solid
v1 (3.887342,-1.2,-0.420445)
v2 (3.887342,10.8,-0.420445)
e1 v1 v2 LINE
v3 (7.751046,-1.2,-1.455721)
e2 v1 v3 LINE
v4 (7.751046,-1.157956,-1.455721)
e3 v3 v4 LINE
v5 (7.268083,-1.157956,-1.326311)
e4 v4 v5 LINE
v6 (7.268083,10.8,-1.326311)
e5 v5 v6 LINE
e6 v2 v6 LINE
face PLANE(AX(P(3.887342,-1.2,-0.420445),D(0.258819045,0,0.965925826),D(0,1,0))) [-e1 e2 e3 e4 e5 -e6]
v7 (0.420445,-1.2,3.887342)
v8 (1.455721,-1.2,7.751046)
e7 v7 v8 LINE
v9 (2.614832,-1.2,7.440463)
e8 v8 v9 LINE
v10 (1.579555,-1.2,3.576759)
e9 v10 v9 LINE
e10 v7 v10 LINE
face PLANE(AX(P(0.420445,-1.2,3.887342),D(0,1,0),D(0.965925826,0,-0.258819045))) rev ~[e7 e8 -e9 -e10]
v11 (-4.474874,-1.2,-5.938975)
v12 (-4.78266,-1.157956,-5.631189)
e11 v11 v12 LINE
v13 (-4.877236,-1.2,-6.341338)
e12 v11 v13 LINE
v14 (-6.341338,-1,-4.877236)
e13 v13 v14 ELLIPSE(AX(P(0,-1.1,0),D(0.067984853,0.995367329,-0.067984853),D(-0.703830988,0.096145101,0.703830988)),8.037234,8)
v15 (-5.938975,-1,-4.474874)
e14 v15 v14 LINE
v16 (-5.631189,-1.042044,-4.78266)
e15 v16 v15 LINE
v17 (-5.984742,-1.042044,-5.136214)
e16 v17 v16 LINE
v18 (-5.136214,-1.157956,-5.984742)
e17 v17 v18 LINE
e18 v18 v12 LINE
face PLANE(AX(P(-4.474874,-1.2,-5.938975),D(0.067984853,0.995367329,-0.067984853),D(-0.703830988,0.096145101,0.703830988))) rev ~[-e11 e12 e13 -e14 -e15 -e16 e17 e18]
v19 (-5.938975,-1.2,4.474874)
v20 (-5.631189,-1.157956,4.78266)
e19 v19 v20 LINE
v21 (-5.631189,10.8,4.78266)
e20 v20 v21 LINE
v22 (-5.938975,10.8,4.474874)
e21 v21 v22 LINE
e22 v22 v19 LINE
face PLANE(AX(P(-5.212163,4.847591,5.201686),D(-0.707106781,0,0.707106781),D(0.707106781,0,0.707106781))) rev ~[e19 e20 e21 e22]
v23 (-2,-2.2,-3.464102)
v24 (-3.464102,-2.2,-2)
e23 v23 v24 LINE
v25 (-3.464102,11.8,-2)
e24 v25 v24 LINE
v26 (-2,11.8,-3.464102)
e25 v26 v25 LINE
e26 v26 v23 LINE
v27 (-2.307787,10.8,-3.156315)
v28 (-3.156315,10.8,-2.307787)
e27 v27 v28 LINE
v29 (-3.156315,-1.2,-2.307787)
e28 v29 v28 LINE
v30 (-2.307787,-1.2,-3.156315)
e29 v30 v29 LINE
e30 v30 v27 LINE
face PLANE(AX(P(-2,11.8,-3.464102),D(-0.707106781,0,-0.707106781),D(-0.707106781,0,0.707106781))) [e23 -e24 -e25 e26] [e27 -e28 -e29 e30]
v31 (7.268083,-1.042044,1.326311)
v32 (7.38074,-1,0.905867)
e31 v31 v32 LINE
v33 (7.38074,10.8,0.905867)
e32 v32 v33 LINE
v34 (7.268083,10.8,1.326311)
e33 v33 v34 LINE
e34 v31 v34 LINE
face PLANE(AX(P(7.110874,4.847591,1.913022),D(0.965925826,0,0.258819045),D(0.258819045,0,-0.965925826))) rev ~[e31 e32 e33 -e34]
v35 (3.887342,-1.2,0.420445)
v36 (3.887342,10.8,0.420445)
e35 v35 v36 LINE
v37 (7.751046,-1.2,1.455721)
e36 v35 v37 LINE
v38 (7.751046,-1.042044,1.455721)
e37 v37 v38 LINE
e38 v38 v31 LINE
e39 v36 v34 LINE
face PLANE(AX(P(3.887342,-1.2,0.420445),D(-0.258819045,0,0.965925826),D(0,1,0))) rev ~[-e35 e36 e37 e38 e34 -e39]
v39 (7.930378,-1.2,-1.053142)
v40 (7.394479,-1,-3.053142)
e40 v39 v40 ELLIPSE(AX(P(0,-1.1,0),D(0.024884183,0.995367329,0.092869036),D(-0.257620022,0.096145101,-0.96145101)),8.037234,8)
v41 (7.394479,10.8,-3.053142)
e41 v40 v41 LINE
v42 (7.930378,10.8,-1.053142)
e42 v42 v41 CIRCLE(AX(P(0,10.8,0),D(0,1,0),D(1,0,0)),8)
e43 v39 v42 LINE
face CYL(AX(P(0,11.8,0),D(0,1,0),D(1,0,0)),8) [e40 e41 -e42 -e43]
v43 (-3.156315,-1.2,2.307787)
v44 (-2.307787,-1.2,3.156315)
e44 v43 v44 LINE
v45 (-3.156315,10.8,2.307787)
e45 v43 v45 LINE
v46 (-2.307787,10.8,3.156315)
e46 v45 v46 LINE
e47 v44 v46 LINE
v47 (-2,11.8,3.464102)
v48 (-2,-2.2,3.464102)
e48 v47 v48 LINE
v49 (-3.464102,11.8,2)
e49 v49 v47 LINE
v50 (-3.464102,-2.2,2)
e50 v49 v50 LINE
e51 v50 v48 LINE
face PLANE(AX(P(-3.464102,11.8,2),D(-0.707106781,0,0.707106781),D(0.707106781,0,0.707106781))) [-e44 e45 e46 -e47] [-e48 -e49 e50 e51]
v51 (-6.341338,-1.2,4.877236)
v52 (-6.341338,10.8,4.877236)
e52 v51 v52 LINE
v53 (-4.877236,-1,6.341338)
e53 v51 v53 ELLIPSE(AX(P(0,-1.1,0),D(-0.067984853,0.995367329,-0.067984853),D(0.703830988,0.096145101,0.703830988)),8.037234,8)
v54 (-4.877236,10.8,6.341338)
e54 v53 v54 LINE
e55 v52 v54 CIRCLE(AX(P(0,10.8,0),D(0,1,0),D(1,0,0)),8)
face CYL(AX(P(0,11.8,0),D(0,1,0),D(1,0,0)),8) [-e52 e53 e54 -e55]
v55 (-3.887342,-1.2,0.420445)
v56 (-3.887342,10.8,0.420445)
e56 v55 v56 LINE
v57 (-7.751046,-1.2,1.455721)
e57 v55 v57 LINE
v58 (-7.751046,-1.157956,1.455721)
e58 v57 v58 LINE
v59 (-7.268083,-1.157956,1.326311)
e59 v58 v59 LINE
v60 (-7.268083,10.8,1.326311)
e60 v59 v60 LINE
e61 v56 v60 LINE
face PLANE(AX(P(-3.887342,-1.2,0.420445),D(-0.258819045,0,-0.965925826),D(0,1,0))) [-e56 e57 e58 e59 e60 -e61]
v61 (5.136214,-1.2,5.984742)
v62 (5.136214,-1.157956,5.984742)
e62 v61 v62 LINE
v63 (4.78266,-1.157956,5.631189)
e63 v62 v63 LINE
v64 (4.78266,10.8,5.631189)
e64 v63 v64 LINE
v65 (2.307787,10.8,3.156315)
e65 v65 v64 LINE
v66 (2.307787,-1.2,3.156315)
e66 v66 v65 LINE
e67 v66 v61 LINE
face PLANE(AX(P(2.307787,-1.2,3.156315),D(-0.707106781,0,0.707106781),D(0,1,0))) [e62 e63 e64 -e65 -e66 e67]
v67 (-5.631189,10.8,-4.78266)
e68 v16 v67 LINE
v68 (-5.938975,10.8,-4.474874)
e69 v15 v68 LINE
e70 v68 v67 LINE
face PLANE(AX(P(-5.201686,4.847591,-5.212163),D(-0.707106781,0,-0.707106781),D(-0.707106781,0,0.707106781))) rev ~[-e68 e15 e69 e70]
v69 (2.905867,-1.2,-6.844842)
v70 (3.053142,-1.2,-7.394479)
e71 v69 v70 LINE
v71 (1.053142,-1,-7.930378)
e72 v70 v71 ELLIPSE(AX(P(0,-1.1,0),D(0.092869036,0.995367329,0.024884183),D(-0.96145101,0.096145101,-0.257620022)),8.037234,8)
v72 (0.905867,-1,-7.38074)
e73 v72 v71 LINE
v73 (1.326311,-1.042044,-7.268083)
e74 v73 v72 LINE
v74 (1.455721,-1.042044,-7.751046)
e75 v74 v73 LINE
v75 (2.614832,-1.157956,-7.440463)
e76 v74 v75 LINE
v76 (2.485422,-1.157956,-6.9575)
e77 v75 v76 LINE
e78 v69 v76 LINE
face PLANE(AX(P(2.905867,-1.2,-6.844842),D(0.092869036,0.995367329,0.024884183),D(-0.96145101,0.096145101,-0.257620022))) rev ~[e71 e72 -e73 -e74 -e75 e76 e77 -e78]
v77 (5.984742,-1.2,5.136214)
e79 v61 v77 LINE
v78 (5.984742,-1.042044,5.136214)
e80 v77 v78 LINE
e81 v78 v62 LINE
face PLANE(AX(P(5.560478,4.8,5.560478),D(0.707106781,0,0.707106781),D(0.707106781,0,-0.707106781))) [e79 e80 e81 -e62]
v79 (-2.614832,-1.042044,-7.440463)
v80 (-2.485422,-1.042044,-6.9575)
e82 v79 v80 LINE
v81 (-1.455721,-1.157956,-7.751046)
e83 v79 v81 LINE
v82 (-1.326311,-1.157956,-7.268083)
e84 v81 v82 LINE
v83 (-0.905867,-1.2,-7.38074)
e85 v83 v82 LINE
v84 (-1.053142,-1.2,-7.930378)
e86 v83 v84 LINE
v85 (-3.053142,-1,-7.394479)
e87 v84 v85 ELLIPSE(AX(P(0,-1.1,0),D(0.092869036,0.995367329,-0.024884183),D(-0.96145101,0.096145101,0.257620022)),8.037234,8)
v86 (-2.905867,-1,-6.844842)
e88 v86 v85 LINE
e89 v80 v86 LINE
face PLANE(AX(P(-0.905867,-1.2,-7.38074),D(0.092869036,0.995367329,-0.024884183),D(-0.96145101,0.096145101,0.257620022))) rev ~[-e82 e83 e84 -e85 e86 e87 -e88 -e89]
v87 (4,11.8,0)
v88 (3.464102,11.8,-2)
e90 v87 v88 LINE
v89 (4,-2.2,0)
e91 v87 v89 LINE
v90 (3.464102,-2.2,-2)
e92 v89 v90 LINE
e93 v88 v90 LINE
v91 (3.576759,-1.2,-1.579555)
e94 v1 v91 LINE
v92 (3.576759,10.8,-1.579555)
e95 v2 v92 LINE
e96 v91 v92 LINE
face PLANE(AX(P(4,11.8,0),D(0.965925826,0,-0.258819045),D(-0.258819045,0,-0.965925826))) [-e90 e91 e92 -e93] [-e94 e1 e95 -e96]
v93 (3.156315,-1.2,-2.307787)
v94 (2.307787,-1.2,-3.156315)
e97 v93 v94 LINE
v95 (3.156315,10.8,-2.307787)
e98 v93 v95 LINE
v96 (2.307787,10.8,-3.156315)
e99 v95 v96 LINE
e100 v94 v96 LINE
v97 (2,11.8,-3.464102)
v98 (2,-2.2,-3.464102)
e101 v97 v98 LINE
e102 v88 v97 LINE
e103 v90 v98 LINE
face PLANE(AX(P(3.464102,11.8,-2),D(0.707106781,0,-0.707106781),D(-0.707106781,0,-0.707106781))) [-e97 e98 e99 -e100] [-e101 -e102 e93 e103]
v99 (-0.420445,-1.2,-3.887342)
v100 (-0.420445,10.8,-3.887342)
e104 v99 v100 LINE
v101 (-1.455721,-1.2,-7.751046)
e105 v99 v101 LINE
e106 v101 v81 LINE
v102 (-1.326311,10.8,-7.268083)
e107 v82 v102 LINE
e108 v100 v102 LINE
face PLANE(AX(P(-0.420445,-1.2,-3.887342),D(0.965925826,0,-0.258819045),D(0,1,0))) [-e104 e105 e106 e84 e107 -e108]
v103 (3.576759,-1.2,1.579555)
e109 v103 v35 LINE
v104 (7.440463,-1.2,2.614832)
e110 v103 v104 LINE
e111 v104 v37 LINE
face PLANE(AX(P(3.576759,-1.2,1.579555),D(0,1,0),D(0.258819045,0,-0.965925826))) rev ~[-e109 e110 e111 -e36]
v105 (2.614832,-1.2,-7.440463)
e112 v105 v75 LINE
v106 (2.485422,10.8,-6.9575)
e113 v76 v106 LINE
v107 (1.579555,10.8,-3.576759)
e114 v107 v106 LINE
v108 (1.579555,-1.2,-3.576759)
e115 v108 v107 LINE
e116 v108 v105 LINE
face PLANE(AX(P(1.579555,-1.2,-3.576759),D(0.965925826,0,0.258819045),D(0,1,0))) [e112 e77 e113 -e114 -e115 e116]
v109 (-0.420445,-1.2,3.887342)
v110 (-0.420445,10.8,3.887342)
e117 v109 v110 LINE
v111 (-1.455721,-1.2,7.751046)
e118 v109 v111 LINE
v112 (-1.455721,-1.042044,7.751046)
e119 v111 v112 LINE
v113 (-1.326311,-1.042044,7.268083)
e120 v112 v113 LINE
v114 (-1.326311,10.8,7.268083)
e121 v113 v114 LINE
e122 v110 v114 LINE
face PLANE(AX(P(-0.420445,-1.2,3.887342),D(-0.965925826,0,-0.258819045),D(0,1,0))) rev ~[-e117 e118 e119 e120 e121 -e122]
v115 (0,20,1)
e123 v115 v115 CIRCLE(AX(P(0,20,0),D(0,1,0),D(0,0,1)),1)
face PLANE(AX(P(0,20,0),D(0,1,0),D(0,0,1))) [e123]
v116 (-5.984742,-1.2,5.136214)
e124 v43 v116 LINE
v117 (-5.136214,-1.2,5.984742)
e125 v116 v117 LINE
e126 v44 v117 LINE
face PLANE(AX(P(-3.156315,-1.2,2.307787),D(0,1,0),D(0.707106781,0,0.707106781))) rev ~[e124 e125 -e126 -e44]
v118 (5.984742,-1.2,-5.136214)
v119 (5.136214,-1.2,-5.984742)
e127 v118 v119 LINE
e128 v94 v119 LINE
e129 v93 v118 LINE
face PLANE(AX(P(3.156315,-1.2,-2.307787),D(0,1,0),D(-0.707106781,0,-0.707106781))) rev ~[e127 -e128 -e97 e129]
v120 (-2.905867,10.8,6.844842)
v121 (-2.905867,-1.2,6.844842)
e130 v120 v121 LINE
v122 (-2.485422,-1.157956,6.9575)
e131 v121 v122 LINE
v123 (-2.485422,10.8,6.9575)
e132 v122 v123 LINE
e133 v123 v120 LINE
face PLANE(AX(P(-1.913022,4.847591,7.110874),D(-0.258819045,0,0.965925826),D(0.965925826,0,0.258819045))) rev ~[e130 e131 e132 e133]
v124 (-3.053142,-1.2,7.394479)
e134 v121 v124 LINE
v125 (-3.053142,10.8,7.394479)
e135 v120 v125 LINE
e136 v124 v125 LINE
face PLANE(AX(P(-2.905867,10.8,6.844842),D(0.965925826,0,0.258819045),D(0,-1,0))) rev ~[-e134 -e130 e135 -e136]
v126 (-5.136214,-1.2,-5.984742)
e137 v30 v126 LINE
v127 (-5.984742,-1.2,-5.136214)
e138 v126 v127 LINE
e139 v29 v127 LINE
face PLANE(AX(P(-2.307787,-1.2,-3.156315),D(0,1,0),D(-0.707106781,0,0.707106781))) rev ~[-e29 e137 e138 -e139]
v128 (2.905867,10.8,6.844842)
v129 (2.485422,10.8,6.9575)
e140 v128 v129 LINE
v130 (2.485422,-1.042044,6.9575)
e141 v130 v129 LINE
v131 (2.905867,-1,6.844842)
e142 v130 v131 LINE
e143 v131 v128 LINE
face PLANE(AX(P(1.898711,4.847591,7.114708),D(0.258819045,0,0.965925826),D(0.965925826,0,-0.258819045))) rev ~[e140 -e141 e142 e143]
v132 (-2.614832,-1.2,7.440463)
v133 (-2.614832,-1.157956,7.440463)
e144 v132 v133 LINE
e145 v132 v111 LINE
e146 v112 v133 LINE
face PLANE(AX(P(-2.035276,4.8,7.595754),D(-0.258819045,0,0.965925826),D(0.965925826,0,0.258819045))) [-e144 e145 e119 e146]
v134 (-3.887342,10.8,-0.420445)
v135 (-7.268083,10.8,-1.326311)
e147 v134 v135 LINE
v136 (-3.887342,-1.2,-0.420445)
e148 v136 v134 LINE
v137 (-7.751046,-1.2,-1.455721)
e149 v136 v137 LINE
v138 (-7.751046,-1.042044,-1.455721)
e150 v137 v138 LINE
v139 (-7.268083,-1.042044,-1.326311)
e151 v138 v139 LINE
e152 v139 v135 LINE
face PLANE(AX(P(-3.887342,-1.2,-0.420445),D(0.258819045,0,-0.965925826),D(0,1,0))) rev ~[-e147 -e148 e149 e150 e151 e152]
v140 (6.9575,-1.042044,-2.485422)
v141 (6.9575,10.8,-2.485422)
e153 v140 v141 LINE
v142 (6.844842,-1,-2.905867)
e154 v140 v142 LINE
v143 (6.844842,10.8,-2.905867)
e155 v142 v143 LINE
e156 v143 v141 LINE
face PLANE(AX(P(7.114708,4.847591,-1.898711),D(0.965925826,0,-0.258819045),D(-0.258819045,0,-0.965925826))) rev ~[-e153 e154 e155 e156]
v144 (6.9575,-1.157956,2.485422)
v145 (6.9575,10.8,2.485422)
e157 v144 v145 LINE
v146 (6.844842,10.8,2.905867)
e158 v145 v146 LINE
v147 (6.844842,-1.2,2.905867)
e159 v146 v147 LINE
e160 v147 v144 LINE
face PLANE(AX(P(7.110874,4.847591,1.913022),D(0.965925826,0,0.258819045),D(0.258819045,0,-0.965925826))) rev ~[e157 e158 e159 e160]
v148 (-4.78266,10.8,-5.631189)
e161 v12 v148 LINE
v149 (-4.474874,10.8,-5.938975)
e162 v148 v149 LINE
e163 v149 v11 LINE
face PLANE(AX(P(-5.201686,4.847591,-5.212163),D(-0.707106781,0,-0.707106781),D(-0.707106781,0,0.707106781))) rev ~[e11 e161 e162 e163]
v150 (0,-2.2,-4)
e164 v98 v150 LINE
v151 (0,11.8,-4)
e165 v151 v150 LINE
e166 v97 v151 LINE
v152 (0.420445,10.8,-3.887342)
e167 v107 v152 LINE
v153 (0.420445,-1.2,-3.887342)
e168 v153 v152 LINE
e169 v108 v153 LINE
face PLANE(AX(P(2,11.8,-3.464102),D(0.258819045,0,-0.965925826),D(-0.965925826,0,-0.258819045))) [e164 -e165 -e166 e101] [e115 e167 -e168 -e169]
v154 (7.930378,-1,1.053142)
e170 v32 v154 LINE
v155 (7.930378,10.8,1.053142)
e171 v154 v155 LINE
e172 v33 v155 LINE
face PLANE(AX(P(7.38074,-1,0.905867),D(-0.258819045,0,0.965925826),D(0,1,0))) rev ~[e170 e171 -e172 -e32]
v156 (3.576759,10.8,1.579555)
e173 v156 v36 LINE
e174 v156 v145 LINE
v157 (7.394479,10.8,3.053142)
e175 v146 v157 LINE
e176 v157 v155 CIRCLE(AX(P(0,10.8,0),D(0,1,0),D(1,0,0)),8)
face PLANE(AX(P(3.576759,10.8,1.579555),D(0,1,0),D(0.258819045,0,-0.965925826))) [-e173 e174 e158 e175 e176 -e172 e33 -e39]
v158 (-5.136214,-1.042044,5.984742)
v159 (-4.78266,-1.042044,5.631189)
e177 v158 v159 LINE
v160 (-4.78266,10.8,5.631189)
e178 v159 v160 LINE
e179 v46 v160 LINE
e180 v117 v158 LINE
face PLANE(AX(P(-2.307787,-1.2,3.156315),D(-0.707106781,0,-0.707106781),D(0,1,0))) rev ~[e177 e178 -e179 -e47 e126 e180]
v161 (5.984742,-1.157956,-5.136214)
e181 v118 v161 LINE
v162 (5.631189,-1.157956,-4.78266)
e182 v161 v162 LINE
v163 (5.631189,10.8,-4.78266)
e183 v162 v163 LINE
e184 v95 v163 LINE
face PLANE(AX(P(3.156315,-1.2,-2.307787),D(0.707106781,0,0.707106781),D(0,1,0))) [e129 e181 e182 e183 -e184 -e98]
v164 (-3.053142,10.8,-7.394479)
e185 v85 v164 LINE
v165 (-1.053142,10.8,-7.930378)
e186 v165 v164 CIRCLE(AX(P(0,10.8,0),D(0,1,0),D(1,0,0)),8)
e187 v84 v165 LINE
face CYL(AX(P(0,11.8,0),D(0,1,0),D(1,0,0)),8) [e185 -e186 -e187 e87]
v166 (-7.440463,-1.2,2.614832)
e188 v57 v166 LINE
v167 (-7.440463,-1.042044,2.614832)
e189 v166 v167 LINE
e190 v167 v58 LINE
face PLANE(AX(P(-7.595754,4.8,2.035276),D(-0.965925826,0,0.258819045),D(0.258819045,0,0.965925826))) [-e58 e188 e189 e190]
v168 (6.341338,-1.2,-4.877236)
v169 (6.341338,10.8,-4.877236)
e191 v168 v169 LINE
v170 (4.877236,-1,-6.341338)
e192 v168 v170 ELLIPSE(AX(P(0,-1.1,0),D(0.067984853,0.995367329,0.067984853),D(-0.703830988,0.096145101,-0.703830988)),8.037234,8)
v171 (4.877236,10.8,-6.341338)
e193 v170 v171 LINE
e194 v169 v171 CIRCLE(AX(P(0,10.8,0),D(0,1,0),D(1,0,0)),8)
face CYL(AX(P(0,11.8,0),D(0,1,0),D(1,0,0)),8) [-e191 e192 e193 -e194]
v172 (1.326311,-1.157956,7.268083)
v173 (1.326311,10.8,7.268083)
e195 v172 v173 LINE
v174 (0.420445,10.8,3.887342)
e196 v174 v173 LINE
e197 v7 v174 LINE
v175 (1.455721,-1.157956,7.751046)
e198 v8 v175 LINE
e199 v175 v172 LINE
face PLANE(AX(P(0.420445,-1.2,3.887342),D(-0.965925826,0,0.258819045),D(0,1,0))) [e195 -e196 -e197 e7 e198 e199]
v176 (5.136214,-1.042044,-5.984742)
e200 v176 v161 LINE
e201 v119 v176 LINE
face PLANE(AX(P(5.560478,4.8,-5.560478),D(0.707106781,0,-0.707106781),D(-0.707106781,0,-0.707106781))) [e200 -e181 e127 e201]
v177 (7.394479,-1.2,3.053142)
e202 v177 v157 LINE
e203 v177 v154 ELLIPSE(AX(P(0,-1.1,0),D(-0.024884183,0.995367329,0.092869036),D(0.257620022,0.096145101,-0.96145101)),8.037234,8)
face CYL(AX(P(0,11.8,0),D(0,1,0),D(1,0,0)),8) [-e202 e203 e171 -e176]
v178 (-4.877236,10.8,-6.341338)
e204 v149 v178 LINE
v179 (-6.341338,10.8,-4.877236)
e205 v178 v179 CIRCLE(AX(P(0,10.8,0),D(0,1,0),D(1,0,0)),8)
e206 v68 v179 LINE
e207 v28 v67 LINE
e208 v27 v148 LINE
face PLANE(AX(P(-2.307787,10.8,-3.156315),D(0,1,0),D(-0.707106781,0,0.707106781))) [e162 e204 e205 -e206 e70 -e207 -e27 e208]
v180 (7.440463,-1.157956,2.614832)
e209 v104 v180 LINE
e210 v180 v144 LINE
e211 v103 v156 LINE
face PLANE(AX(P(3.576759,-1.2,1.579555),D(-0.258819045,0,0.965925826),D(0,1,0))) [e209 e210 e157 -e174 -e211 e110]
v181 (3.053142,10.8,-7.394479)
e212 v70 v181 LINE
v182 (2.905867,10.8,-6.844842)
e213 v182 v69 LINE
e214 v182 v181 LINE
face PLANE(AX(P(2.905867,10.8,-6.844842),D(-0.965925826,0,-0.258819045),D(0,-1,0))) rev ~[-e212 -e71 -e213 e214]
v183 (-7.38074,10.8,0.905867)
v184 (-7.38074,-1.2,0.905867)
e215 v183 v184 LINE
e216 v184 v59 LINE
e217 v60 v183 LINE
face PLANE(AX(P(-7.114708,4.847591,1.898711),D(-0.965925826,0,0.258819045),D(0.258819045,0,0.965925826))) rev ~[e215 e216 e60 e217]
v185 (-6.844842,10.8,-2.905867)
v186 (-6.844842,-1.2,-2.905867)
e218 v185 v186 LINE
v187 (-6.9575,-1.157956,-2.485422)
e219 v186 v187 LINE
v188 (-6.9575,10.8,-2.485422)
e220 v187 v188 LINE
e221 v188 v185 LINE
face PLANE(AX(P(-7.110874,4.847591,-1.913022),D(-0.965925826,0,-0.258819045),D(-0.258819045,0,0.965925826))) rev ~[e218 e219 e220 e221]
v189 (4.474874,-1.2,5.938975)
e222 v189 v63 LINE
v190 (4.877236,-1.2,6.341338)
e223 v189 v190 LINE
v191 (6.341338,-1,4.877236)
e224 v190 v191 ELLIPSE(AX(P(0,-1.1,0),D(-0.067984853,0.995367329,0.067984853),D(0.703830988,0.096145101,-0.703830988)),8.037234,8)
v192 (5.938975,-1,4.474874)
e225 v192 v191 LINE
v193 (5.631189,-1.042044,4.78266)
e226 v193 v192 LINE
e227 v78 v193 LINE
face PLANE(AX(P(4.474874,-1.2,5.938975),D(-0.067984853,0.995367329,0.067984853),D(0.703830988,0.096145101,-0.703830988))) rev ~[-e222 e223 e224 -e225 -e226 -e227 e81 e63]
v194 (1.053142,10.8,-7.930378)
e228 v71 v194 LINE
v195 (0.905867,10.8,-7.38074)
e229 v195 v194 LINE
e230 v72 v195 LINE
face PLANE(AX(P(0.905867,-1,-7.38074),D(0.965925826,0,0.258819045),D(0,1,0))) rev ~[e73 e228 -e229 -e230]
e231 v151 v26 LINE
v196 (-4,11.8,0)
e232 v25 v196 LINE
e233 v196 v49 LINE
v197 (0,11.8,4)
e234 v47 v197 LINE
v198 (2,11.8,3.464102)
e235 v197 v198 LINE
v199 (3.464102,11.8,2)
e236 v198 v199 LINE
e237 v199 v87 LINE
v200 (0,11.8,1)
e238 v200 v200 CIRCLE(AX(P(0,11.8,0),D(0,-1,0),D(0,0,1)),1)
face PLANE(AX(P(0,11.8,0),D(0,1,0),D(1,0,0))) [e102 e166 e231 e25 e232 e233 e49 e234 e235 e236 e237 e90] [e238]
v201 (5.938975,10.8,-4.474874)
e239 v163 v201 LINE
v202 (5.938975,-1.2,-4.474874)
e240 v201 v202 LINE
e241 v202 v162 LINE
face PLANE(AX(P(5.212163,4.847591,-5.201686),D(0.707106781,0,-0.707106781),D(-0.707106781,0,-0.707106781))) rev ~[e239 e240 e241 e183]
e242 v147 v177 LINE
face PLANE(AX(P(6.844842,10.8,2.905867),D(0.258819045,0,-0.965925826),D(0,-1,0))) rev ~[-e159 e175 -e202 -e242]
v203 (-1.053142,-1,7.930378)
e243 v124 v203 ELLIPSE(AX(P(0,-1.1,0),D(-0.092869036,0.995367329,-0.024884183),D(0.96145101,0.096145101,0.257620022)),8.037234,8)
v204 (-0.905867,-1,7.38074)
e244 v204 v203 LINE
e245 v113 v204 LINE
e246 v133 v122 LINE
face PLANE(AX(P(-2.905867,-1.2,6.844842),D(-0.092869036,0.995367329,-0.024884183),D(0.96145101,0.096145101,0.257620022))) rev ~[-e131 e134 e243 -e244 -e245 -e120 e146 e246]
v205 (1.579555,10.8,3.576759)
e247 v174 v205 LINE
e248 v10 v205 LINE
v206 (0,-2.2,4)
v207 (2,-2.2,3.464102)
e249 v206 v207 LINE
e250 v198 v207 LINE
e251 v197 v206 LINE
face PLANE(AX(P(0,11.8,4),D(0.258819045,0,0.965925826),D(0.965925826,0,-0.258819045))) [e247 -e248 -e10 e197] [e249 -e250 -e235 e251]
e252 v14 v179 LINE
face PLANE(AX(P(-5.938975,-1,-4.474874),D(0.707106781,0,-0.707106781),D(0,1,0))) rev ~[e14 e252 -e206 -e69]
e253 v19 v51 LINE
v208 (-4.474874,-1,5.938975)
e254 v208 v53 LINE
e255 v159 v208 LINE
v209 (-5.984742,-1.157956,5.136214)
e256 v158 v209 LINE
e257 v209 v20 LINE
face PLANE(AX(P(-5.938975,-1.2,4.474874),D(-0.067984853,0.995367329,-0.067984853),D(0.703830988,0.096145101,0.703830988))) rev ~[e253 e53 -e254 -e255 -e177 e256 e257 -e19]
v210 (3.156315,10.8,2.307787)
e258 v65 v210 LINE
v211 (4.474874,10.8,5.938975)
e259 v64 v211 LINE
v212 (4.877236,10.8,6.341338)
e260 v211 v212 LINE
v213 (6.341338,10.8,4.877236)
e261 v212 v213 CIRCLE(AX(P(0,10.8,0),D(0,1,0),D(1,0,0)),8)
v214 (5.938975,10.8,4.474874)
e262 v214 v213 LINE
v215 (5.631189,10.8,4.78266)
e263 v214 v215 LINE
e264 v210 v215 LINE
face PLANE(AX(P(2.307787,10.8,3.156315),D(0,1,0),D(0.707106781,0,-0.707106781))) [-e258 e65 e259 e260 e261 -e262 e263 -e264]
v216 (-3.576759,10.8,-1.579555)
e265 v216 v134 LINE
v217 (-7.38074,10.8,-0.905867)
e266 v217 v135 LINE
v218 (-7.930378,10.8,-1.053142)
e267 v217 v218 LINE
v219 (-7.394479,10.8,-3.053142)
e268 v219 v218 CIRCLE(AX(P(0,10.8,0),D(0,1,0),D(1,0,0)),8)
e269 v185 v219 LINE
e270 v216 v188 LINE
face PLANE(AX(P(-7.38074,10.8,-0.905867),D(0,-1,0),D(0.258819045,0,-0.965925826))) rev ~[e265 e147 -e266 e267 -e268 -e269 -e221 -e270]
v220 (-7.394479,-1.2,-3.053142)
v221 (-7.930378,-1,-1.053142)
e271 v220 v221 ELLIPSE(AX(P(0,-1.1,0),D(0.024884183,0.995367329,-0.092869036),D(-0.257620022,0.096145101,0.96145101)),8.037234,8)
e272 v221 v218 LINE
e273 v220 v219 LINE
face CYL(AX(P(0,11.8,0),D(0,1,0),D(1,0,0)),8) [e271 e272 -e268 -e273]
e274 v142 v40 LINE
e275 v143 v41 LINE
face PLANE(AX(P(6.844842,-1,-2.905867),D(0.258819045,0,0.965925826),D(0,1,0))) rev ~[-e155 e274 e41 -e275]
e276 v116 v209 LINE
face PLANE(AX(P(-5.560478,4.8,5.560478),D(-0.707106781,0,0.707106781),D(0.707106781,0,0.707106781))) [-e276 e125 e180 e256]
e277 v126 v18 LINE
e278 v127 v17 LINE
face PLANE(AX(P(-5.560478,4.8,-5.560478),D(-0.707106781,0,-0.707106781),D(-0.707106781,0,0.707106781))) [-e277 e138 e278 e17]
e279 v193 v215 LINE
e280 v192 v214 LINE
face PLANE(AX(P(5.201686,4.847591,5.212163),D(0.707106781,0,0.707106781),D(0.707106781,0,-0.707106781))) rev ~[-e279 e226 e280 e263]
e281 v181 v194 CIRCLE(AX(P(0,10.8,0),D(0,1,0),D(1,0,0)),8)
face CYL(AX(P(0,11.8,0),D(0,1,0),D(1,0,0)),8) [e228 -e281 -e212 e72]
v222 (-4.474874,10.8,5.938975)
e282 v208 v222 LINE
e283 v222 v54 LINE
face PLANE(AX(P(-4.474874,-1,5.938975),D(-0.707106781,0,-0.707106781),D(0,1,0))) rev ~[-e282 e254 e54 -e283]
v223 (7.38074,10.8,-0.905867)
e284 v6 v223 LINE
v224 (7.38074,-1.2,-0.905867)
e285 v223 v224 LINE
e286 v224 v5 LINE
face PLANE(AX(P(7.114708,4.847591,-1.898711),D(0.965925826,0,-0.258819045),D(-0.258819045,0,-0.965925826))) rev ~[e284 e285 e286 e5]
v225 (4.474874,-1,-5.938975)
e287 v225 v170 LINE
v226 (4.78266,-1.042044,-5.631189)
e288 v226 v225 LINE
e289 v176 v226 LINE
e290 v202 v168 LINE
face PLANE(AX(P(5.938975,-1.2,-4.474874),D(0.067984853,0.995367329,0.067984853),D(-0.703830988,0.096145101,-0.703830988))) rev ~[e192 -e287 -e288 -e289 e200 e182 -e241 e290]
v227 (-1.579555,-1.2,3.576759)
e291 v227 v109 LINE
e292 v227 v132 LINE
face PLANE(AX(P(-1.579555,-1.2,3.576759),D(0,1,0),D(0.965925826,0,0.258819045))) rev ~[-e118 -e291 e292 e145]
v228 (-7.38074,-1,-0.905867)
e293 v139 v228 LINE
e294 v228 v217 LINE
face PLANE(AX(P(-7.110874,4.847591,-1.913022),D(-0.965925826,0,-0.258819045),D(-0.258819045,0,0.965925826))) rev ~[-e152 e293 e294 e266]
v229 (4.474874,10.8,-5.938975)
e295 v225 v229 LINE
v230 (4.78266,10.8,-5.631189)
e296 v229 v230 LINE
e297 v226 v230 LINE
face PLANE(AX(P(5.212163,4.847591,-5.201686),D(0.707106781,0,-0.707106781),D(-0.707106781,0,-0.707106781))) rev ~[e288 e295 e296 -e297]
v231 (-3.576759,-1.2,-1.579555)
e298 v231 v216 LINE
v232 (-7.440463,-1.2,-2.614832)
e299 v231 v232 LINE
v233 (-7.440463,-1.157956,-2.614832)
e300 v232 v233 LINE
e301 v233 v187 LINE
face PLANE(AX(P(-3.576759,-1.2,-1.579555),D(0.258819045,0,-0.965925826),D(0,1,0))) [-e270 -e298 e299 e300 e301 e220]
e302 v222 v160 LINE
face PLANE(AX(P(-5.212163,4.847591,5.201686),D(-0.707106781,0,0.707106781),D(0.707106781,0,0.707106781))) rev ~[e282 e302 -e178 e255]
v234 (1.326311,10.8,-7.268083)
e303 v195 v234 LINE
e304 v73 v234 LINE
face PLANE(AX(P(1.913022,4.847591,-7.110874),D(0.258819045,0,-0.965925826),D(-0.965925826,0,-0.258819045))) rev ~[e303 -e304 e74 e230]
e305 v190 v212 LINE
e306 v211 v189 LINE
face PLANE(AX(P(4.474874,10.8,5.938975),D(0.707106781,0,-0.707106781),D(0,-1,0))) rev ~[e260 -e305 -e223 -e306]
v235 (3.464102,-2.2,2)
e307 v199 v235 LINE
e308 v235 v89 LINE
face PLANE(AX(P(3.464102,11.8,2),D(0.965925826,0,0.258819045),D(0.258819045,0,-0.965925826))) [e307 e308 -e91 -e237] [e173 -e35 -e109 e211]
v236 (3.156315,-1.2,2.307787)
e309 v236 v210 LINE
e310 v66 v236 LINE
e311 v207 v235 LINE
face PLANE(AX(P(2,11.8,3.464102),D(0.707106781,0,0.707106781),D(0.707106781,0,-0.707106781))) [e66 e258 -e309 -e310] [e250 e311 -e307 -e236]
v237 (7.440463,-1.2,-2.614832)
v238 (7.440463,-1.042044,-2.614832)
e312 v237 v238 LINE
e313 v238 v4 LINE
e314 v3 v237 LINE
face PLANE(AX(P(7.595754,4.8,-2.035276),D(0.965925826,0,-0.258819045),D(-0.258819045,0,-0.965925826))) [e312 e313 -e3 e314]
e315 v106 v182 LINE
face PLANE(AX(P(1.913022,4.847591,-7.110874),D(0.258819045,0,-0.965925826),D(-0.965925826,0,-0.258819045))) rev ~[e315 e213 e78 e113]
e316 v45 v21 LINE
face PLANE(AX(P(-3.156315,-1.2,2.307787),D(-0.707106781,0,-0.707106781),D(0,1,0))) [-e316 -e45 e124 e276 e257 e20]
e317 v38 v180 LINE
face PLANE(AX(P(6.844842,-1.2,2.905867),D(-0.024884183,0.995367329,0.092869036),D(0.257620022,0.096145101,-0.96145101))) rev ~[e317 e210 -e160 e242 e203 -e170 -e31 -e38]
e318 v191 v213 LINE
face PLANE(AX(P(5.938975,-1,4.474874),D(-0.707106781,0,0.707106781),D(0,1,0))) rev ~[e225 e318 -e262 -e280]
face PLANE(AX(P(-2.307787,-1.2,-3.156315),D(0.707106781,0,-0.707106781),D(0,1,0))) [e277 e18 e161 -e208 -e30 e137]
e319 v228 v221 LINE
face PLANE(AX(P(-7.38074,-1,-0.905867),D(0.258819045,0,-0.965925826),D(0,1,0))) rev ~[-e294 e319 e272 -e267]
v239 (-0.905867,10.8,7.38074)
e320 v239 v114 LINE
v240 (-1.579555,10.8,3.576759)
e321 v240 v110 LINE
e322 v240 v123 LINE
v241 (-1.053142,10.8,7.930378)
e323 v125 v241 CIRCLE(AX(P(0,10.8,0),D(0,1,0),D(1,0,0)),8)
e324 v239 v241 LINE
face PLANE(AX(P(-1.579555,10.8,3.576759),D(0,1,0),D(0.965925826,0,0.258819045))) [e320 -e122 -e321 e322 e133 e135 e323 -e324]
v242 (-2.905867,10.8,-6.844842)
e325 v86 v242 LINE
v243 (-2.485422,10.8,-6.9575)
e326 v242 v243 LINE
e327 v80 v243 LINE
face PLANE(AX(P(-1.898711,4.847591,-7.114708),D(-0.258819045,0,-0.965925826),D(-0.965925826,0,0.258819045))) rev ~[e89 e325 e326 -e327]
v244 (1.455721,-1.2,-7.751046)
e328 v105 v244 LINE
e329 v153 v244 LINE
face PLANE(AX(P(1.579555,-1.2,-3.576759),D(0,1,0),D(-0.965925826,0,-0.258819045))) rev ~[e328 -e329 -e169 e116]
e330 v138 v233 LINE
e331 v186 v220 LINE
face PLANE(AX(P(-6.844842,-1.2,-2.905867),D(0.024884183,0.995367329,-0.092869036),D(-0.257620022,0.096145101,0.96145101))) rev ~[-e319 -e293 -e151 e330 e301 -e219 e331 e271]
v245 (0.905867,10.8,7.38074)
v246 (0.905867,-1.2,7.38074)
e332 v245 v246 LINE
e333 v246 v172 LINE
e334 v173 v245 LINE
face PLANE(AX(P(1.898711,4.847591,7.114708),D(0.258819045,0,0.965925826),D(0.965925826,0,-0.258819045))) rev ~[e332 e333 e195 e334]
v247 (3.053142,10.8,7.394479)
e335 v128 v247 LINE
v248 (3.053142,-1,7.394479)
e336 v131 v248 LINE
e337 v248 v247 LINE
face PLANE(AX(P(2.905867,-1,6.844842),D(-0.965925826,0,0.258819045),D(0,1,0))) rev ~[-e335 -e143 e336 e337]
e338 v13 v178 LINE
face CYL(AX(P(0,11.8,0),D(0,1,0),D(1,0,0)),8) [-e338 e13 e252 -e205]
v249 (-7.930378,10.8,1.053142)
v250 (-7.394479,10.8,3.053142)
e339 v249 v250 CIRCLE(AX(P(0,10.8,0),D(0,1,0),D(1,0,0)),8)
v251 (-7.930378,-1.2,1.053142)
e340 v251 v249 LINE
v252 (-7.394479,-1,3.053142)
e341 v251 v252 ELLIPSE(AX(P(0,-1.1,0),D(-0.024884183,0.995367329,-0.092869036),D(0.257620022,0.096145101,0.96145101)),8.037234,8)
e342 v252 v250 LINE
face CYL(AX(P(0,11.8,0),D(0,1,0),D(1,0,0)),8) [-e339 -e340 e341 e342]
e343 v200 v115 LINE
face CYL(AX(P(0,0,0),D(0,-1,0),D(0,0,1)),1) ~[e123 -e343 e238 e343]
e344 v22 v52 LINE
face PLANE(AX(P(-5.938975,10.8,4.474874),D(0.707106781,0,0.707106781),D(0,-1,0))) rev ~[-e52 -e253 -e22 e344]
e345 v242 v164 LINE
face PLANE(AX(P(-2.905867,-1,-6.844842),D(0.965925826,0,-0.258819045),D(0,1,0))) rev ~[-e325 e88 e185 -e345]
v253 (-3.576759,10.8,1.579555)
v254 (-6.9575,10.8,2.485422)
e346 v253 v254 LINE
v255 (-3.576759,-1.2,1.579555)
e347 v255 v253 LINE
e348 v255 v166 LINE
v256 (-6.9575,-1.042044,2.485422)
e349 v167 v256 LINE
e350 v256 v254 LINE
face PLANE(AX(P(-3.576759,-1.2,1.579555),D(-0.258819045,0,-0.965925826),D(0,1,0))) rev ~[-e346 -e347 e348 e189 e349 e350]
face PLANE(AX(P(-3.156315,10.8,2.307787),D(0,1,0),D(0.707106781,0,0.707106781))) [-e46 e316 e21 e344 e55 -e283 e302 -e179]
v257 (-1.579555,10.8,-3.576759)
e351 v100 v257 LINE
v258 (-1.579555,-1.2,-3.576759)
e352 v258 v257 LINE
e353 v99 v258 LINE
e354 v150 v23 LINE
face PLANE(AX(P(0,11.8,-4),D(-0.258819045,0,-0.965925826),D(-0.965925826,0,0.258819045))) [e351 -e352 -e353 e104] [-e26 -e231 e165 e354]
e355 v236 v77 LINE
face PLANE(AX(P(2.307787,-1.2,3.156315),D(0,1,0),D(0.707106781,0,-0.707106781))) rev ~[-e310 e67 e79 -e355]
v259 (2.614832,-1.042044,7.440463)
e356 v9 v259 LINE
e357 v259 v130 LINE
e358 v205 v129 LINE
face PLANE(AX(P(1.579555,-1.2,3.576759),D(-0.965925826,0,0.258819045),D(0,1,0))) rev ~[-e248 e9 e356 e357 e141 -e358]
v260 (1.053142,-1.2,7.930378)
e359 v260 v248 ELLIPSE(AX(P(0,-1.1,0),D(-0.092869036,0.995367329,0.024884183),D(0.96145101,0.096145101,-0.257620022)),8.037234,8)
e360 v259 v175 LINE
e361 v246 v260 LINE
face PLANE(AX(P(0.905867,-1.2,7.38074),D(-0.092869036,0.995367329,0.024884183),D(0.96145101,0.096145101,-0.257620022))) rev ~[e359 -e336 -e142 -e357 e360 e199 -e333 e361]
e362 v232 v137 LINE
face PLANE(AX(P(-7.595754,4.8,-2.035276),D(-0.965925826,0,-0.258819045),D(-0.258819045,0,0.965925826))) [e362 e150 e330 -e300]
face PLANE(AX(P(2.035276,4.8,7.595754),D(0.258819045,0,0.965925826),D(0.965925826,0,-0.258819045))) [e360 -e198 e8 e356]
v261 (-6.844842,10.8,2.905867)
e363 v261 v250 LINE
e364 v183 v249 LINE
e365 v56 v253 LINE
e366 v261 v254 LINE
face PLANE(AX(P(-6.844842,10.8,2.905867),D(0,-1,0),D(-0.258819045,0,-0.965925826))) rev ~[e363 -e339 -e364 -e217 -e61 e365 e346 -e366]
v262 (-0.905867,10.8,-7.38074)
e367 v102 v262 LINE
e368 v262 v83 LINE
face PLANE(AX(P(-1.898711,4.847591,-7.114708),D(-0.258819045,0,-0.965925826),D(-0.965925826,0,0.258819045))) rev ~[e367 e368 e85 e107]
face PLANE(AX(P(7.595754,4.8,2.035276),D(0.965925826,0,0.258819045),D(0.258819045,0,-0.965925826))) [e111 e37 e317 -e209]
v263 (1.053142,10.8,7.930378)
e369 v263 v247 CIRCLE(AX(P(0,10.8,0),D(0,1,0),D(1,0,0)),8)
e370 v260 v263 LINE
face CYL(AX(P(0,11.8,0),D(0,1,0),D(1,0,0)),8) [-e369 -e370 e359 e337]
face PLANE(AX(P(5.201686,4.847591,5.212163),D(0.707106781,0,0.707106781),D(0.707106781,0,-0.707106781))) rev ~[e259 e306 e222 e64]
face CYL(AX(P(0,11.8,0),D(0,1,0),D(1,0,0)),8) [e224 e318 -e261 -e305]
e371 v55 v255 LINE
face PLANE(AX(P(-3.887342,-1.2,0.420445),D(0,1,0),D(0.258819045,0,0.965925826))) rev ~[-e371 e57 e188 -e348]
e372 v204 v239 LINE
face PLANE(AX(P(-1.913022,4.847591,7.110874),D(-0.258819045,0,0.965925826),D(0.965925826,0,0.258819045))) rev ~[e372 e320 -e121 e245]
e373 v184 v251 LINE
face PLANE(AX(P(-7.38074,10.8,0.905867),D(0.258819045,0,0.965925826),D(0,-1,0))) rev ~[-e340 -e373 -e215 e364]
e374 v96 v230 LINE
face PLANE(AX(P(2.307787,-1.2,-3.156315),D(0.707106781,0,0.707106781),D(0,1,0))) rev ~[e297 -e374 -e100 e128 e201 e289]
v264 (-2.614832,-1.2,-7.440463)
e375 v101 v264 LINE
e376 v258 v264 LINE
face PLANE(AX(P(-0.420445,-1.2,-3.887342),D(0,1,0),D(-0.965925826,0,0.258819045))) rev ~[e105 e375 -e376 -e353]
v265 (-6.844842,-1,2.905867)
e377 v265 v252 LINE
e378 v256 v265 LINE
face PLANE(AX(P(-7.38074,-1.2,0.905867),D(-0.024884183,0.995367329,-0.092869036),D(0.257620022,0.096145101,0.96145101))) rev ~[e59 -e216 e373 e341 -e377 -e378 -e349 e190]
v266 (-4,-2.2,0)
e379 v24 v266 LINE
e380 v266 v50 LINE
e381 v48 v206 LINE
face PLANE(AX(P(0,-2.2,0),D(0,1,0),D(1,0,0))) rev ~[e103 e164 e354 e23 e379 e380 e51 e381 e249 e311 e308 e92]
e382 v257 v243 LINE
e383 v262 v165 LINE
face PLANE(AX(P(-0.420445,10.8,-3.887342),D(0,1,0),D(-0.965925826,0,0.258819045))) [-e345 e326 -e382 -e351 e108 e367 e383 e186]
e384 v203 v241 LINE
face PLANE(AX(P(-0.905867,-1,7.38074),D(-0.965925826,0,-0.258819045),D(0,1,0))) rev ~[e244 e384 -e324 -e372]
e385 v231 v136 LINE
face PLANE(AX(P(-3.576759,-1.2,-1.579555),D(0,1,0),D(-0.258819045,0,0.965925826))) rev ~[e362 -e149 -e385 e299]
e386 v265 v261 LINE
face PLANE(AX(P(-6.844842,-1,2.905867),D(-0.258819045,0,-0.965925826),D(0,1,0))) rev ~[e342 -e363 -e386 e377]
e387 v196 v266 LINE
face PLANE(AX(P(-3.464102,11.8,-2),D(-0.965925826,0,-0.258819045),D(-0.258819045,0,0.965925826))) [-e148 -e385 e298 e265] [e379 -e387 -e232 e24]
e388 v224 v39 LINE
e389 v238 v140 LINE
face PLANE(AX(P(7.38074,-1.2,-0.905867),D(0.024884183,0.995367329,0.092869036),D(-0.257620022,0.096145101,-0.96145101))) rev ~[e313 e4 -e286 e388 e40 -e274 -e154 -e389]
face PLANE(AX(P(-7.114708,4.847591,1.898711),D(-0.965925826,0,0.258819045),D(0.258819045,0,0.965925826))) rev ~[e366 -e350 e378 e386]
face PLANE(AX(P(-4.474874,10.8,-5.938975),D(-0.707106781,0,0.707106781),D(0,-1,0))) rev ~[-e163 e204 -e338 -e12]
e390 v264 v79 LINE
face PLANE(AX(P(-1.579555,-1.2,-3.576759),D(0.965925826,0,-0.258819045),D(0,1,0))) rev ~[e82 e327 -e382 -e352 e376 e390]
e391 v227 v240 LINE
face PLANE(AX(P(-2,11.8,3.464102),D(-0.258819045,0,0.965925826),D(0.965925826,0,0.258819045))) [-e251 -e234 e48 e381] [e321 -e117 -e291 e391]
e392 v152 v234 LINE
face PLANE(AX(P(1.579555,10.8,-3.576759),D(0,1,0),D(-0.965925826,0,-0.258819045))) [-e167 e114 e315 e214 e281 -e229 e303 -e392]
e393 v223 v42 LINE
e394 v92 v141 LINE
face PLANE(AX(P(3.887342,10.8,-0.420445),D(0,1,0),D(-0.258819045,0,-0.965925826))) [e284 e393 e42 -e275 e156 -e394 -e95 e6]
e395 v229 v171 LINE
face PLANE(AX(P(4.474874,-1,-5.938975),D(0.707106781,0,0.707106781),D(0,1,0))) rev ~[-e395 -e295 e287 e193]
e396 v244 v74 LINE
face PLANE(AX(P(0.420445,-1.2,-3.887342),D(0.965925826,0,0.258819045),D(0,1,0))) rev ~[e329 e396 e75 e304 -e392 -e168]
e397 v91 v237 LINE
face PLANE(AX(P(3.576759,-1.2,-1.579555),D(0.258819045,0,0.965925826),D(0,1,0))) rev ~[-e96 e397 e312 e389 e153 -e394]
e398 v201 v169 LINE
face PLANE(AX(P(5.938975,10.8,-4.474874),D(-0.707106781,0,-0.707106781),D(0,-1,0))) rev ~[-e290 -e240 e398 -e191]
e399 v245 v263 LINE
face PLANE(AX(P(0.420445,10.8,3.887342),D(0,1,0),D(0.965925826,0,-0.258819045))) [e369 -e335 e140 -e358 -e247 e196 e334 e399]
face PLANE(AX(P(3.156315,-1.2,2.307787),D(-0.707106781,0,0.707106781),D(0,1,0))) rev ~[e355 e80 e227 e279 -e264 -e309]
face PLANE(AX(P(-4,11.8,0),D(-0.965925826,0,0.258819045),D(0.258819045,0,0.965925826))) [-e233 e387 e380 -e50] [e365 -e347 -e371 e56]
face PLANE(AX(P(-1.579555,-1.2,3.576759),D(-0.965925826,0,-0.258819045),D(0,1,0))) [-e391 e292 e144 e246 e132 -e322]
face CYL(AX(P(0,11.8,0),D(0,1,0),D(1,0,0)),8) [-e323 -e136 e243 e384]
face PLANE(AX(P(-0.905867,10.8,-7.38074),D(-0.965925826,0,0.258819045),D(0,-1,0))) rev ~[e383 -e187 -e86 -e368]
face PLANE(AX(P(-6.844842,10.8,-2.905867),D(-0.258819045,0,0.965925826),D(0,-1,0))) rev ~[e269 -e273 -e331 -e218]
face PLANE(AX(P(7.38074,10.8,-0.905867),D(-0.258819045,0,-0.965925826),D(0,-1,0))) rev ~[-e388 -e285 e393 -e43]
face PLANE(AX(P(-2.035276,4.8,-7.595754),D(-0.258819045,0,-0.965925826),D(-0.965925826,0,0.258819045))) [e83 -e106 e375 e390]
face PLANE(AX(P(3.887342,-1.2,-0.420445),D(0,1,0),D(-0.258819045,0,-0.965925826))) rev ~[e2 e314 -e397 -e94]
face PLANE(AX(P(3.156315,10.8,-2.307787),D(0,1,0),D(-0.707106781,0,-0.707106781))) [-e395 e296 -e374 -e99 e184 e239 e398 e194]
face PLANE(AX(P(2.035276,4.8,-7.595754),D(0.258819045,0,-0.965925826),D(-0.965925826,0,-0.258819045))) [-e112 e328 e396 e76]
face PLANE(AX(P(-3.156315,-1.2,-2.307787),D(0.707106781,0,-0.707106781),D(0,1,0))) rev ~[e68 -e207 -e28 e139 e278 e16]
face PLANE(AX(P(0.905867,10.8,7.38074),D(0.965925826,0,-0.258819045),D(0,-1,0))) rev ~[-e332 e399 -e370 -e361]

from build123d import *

# Parameters (mm, degrees)
SKETCH_1_R               = 1
EXTRUDE_1_DEPTH          = 20
EXTRUDE_START            = -8.2
EXTRUDE_3_DEPTH          = 14
SKETCH_6_W               = 1.2
SKETCH_6_H               = 12
EXTRUDE_4_DEPTH          = 4
EXTRUDE_START_2          = -0.5
EXTRUDE_5_DEPTH          = 1.5
PATTERN_CIRCULAR_1_COUNT = 12
SKETCH_12_OUTSIDE_W      = 26.342
SKETCH_12_OUTSIDE_H      = 26.342
SKETCH_12_OUTSIDE_R      = 8
CUT_EXTRUDE_2_DEPTH      = 19.759656212


with BuildPart() as part:
    # 草图1 → 凸台-拉伸1 (new body)
    with BuildSketch(Plane(origin=(0, 0, 0), x_dir=(1, 0, 0), z_dir=(0, 1, 0))):
        with Locations(Location((0, 0, 0), (0, 0, 270))):
            Circle(SKETCH_1_R)
    extrude(amount=EXTRUDE_1_DEPTH)

    # 草图4 → 凸台-拉伸3 (add)
    with BuildSketch(Plane(origin=(0, 20, 0), x_dir=(1, 0, 0), z_dir=(0, 1, 0)).offset(EXTRUDE_START)):
        Polygon((4, 0), (3.464101615, 2), (2, 3.464101615), (0, 4), (-2, 3.464101615), (-3.464101615, 2), (-4, 0), (-3.464101615, -2), (-2, -3.464101615), (0, -4), (2, -3.464101615), (3.464101615, -2), align=None)
    extrude(amount=-EXTRUDE_3_DEPTH)

    # 草图6 → 凸台-拉伸4 (add)
    with BuildSketch(Plane(origin=(-3.732050808, 0, -1), x_dir=(-0.258819045102507, 0, 0.9659258262890721), z_dir=(-0.9659258262890721, 0, -0.258819045102507))):
        with Locations((0, 4.8)):
            Rectangle(SKETCH_6_W, SKETCH_6_H)
    extrude_4 = extrude(amount=EXTRUDE_4_DEPTH)

    # 草图7 → 凸台-拉伸5 (add)
    with BuildSketch(Plane(origin=(-7.595754113, 0, -2.03527618), x_dir=(-0.25881904510250703, 0, 0.9659258262890721), z_dir=(-0.9659258262890721, 0, -0.25881904510250703)).offset(EXTRUDE_START_2)):
        Polygon((1.03527618, 10.8), (-1.03527618, 10.8), (-1.03527618, -1.2), (1.03527618, -1), align=None)
    extrude_5 = extrude(amount=EXTRUDE_5_DEPTH)

    # 阵列(圆周)1: 凸台-拉伸4, 凸台-拉伸5 ×12 about axis
    pattern_circular_1_axis = Axis((0, 0, 0), (0, 1, 0))
    add([extrude_4.rotate(pattern_circular_1_axis, i * 360 / PATTERN_CIRCULAR_1_COUNT) for i in range(1, PATTERN_CIRCULAR_1_COUNT)])
    add([extrude_5.rotate(pattern_circular_1_axis, i * 360 / PATTERN_CIRCULAR_1_COUNT) for i in range(1, PATTERN_CIRCULAR_1_COUNT)])

    # 草图12 outside → 切除-拉伸2 (cut, through all)
    with BuildSketch(Plane(origin=(0, 11.8, 0), x_dir=(1, 0, 0), z_dir=(0, 1, 0))):
        Rectangle(SKETCH_12_OUTSIDE_W, SKETCH_12_OUTSIDE_H)
        Circle(SKETCH_12_OUTSIDE_R, mode=Mode.SUBTRACT)
    extrude(amount=-CUT_EXTRUDE_2_DEPTH, mode=Mode.SUBTRACT)


solid = part.part
